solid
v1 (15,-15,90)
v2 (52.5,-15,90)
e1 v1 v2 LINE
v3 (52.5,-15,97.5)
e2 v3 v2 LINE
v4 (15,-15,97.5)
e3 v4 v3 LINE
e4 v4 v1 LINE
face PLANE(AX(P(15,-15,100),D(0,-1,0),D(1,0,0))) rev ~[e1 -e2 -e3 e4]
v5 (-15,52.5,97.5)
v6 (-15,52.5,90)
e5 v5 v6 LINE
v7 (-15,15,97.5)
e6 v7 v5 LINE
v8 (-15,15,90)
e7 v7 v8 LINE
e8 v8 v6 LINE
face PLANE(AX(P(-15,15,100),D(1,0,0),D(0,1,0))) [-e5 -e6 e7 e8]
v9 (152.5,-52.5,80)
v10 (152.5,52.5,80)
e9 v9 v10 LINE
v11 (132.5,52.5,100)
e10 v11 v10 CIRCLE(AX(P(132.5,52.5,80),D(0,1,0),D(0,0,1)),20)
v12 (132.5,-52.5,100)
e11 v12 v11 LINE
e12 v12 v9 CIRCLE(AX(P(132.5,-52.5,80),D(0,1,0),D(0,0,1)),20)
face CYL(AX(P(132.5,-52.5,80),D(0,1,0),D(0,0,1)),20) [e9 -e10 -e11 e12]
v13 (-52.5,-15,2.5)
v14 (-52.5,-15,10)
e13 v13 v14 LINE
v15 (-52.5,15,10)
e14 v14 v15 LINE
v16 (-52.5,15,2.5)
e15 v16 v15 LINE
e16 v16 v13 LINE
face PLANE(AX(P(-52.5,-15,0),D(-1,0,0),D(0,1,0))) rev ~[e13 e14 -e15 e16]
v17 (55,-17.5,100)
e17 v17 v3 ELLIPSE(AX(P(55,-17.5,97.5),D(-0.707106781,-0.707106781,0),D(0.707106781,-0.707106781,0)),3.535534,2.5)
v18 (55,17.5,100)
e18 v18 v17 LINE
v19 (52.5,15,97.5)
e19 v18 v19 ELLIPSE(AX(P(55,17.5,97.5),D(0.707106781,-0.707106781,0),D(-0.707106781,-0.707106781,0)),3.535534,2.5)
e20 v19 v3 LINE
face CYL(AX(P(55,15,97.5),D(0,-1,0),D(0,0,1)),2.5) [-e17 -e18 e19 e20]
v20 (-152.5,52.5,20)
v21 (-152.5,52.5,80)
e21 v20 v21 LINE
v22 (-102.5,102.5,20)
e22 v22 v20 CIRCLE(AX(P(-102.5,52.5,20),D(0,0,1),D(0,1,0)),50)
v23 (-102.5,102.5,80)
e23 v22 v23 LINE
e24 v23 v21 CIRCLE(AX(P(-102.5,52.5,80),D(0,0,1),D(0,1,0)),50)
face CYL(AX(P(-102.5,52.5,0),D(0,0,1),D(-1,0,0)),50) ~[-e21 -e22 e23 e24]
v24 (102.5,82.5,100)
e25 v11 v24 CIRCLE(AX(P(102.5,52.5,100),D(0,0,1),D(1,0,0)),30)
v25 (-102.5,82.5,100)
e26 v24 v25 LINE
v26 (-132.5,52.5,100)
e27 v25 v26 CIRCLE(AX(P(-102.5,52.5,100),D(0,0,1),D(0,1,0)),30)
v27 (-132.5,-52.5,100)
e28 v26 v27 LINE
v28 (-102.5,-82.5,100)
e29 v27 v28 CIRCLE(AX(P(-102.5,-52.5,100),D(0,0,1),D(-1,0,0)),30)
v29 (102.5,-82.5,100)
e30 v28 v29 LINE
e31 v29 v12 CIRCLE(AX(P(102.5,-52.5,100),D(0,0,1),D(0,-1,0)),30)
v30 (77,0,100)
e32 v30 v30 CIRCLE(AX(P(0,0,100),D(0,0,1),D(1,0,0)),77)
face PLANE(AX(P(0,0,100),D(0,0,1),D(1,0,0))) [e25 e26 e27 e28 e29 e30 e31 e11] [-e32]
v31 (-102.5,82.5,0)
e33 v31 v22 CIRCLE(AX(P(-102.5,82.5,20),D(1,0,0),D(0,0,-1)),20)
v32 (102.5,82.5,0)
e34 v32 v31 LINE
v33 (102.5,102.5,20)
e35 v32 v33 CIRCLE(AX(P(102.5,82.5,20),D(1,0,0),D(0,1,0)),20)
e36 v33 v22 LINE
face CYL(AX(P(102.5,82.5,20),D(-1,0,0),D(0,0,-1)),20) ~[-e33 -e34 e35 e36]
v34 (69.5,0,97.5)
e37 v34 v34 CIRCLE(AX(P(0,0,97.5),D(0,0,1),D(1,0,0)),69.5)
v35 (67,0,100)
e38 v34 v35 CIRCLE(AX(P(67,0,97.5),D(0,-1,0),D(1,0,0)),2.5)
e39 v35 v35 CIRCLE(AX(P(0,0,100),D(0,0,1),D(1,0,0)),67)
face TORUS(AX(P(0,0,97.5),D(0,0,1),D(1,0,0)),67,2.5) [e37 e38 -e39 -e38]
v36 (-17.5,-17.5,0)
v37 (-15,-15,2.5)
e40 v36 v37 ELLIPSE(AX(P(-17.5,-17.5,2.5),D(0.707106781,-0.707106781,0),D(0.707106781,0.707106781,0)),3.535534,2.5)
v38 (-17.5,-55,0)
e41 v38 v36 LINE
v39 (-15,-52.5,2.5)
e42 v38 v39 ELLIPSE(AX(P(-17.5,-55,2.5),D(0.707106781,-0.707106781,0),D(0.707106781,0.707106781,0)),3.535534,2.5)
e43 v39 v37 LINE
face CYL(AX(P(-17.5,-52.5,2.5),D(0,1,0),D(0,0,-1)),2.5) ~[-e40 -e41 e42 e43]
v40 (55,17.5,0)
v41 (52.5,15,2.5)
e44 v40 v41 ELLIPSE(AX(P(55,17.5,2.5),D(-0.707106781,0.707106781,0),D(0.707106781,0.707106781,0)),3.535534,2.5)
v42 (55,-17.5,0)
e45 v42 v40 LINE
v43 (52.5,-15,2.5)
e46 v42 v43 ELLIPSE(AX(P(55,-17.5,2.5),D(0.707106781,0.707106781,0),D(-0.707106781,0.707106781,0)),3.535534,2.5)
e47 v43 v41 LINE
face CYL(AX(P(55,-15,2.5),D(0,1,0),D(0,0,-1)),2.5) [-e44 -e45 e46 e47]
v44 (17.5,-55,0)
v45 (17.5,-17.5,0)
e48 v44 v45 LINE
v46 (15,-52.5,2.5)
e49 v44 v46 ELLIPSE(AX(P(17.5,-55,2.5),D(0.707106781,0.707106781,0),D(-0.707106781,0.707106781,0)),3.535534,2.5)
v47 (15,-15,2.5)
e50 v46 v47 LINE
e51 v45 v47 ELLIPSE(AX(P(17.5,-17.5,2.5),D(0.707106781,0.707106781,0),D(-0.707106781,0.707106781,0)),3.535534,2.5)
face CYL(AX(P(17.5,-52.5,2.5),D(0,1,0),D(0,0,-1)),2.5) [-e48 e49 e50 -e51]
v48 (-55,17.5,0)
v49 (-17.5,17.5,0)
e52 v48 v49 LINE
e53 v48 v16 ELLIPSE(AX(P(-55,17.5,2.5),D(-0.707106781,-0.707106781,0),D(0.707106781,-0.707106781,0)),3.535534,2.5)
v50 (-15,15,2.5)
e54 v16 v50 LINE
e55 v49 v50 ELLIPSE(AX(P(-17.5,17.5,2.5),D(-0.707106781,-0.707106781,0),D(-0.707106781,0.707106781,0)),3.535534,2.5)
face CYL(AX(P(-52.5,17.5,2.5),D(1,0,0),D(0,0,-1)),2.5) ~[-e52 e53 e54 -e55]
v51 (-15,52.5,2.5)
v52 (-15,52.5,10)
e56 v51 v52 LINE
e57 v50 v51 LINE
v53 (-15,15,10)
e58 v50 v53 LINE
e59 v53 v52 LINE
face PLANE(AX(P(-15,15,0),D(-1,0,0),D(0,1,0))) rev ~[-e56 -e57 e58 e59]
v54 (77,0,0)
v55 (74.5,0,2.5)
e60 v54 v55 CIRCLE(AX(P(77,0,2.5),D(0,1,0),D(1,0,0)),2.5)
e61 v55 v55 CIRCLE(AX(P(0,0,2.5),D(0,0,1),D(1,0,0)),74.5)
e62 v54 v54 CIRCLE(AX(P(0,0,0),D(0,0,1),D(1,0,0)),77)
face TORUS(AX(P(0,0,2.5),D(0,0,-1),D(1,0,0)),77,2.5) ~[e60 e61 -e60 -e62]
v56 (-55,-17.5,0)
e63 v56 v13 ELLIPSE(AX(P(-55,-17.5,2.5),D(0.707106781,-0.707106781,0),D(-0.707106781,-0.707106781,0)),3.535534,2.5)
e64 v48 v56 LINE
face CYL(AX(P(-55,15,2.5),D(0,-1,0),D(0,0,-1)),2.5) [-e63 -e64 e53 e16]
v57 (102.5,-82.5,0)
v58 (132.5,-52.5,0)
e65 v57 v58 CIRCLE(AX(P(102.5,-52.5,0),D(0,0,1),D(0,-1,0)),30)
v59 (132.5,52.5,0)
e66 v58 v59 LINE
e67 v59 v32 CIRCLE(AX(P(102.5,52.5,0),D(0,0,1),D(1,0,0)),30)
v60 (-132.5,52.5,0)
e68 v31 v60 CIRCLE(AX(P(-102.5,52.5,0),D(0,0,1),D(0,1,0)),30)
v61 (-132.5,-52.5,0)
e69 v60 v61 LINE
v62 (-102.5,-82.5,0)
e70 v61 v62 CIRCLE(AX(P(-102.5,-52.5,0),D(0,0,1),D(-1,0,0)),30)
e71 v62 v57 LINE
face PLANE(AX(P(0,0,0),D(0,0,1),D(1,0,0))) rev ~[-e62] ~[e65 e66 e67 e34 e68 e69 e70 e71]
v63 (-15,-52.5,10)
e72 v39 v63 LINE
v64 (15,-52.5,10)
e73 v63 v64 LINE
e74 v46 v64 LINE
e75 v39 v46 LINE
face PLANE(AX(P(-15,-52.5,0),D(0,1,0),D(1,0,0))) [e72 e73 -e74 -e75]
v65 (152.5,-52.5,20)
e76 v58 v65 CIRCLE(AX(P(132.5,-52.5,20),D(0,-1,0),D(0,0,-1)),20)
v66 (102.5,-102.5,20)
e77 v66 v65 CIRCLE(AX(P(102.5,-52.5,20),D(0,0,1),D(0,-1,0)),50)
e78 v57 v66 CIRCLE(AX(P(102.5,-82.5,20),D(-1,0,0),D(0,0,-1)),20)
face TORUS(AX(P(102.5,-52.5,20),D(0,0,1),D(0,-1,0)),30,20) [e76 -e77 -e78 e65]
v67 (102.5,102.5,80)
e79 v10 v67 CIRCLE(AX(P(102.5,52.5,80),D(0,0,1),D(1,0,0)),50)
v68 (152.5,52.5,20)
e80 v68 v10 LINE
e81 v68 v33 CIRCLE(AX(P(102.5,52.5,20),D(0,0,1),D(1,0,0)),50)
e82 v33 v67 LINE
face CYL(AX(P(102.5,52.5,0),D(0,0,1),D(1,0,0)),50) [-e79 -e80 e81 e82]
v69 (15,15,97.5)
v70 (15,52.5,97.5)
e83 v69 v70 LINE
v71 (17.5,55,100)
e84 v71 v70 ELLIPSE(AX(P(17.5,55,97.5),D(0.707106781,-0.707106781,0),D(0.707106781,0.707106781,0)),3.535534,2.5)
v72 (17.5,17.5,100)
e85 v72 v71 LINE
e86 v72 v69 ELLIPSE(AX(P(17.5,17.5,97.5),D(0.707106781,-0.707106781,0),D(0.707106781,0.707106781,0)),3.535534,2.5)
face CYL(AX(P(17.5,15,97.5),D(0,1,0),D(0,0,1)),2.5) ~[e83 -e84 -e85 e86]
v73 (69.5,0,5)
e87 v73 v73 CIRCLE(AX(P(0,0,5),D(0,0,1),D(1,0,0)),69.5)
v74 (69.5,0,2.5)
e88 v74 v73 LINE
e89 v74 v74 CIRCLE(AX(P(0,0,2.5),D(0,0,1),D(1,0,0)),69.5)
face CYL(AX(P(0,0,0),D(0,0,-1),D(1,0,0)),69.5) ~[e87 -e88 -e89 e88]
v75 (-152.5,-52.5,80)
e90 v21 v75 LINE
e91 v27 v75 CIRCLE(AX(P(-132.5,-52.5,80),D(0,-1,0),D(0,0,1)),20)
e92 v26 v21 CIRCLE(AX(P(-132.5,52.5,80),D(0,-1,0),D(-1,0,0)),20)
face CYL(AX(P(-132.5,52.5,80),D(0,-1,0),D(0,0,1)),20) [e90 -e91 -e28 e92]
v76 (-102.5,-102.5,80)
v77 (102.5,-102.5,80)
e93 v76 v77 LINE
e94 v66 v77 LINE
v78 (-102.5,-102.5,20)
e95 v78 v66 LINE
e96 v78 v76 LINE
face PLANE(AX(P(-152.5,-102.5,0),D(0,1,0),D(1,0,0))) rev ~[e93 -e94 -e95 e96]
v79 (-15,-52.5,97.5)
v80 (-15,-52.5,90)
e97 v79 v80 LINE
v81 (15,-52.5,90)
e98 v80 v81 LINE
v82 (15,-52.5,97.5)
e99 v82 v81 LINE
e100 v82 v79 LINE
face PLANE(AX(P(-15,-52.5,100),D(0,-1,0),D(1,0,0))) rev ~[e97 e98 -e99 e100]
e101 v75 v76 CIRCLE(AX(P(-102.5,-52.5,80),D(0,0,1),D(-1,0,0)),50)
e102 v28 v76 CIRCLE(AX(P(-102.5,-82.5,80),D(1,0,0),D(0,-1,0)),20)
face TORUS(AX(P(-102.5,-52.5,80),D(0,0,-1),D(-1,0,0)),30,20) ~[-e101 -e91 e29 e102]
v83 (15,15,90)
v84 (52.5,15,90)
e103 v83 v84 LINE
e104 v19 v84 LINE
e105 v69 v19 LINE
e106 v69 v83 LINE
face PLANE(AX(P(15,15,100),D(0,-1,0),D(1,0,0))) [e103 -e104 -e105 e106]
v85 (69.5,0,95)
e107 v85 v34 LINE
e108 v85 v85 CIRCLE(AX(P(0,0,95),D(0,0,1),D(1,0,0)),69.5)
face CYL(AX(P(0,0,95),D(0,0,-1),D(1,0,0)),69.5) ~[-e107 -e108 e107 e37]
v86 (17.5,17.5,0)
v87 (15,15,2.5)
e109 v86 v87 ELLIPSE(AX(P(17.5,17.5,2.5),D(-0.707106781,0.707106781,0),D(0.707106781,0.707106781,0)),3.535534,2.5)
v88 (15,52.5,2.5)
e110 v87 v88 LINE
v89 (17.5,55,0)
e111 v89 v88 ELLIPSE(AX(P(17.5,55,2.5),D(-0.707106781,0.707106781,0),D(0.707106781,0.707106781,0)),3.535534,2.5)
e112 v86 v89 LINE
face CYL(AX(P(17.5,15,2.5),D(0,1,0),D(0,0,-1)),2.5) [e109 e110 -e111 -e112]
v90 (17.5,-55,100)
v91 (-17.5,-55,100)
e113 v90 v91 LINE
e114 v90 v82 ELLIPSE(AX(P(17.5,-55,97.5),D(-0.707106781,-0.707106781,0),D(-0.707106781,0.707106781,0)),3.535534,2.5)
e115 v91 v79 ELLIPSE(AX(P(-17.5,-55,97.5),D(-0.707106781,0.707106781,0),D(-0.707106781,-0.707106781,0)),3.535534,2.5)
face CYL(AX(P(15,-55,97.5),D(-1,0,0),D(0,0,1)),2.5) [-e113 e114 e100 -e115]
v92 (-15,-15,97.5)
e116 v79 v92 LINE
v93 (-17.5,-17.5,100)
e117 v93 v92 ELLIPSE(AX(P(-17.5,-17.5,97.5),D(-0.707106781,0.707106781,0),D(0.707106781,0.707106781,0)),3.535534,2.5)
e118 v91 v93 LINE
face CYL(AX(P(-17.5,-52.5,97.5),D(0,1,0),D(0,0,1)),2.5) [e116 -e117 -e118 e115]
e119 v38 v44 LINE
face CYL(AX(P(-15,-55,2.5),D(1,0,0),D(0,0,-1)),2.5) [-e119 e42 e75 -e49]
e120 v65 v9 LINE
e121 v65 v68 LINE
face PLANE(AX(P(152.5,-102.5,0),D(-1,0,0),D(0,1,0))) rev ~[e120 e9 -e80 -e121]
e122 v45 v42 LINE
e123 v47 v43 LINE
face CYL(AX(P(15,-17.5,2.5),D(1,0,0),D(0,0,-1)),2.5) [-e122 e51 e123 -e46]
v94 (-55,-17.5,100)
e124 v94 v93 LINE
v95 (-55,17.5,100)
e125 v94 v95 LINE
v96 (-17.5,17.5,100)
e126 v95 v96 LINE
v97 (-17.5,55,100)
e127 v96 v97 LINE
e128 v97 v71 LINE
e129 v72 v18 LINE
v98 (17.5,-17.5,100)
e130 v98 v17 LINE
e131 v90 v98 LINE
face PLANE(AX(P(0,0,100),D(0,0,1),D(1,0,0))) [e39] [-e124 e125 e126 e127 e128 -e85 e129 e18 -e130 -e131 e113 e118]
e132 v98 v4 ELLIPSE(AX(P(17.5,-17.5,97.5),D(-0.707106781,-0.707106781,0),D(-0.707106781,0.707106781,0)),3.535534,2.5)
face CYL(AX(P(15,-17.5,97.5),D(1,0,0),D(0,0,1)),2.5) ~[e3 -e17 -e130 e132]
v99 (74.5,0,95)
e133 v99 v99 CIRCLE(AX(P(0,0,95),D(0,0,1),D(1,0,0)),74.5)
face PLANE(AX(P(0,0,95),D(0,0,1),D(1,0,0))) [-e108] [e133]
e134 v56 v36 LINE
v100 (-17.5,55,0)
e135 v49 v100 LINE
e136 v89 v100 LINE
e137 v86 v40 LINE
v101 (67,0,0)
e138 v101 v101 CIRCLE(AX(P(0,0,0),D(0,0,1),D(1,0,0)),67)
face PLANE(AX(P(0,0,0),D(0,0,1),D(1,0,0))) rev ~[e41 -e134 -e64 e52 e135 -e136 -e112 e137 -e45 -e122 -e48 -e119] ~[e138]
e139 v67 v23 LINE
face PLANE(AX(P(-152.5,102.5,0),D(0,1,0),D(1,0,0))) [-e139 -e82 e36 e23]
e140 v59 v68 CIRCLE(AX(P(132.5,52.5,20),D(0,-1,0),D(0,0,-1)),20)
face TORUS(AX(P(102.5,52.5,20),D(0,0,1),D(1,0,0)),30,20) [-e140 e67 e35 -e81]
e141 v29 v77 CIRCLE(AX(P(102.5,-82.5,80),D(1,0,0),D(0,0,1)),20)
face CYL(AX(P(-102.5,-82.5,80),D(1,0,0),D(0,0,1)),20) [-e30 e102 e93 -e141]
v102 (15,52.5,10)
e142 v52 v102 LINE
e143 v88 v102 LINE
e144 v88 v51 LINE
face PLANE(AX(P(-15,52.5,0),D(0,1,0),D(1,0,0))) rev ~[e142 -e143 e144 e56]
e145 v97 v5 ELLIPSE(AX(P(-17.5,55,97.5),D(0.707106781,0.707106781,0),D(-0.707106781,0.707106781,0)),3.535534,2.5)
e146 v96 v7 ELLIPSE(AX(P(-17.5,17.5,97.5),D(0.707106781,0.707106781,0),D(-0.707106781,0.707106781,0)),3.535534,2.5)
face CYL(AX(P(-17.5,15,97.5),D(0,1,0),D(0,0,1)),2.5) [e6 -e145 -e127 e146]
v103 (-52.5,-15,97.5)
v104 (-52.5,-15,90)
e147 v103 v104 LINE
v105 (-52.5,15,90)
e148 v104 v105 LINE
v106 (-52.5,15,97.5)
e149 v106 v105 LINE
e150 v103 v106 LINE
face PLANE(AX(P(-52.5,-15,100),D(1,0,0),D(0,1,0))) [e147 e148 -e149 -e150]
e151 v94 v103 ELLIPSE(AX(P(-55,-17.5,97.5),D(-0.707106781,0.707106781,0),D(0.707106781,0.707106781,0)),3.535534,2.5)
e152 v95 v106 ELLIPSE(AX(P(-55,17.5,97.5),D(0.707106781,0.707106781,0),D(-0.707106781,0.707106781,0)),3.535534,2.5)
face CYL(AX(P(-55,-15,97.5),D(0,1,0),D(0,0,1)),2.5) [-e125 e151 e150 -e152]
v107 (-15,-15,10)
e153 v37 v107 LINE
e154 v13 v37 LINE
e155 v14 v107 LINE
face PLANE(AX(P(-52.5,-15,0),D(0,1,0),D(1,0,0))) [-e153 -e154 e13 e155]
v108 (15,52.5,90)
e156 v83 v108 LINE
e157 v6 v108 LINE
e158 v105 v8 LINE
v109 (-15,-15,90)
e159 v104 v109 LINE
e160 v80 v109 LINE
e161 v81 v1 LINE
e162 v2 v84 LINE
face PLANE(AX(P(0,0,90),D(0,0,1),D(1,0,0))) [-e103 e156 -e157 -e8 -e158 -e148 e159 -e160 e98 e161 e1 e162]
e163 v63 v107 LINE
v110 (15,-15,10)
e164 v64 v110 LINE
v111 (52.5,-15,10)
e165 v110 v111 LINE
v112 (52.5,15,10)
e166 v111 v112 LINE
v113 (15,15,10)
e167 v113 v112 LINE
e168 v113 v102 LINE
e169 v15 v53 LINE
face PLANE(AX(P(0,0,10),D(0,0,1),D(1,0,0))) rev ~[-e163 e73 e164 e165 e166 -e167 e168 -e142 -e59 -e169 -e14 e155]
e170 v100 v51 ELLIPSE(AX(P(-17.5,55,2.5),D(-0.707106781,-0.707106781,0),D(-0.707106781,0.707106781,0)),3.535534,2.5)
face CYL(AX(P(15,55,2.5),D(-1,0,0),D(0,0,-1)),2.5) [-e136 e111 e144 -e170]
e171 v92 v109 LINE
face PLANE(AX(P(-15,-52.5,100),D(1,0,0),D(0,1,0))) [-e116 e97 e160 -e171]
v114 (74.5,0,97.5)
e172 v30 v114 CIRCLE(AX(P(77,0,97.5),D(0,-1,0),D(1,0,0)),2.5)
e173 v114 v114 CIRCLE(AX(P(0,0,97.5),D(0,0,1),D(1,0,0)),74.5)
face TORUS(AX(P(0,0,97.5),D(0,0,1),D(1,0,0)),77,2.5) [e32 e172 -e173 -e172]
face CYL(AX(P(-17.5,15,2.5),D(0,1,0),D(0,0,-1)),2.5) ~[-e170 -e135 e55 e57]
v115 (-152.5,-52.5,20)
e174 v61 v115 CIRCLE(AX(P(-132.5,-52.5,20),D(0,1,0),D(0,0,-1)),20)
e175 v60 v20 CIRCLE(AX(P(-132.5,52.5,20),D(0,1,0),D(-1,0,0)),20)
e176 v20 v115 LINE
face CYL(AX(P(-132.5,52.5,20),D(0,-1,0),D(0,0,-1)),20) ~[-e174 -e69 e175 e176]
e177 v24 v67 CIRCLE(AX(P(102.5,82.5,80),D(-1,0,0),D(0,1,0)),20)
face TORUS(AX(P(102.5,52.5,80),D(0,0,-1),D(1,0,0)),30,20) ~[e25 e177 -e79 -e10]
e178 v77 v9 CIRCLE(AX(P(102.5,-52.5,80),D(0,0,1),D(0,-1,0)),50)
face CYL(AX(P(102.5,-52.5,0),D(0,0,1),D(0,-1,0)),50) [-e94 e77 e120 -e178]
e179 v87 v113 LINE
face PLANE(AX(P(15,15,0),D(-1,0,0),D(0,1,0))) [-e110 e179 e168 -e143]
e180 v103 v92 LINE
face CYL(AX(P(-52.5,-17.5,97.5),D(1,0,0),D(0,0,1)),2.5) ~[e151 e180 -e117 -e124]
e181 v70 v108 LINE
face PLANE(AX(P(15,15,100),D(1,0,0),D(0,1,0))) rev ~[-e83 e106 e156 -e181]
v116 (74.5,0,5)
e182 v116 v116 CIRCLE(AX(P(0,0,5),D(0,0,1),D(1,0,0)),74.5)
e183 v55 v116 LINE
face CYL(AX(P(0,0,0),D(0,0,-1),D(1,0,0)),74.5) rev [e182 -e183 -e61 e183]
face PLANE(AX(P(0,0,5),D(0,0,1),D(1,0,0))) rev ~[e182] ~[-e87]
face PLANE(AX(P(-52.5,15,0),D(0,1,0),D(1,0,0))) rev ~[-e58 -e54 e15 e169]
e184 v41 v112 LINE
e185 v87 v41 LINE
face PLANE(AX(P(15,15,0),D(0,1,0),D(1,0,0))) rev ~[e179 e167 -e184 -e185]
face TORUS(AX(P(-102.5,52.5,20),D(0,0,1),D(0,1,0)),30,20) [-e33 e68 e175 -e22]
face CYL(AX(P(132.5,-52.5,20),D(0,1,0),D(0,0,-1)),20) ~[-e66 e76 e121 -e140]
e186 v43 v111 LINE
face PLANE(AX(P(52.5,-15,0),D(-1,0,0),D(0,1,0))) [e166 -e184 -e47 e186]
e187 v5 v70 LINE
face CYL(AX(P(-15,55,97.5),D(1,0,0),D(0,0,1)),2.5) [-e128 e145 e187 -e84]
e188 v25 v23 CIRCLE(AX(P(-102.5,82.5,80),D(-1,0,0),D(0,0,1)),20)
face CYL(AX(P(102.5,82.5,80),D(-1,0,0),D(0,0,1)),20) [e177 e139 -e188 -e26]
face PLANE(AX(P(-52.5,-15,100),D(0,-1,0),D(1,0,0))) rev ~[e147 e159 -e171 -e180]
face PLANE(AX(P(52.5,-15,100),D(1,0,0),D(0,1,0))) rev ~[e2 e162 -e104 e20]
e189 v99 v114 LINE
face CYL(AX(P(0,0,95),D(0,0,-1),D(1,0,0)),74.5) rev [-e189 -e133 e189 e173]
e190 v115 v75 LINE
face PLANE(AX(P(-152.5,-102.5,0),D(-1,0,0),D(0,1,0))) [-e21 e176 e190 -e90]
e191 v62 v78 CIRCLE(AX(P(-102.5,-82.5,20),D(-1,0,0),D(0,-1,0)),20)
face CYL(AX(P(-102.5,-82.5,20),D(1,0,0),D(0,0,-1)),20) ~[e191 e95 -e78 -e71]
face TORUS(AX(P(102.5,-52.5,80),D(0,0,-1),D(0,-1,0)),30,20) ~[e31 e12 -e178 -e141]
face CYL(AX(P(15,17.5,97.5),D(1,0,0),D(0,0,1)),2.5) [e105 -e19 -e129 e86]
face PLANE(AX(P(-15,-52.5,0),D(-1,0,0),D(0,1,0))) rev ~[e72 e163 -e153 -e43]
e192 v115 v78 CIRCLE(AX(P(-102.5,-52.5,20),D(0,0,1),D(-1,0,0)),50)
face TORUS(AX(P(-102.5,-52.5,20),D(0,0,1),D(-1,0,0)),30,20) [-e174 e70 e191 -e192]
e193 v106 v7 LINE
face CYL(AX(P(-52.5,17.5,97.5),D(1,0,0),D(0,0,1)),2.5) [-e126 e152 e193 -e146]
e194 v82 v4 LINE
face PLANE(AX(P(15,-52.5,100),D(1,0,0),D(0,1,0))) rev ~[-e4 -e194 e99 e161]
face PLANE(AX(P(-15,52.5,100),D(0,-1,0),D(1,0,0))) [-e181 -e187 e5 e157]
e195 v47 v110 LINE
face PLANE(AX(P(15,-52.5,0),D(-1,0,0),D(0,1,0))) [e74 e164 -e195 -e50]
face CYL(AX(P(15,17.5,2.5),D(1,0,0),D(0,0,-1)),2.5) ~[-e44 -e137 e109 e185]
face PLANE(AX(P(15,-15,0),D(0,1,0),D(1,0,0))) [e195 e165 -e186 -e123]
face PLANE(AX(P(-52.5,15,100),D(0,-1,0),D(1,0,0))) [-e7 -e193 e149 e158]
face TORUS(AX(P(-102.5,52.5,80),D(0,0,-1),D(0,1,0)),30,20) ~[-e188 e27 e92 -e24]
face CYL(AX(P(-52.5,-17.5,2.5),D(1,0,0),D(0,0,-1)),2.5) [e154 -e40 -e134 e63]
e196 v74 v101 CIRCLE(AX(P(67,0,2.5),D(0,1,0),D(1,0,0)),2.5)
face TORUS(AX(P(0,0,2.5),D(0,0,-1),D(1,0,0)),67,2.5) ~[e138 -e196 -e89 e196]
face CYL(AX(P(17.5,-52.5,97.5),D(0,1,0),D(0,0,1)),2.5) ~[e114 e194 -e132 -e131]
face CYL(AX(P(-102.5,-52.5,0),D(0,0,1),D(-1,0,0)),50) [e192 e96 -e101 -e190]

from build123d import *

# Parameters (mm, degrees)
SKETCH1_W               = 305
SKETCH1_H               = 205
BOSS_EXTRUDE1_DEPTH     = 100
FILLET1_R               = 50
FILLET2_R               = 20
SKETCH2_W               = 30
SKETCH2_H               = 105
SKETCH2_W_2             = 105
SKETCH2_H_2             = 30
CUT_EXTRUDE_THIN1_DEPTH = 10
CUT_EXTRUDE_THIN2_START = 100
SKETCH2_3_W             = 30
SKETCH2_3_H             = 105
SKETCH2_3_W_2           = 105
SKETCH2_3_H_2           = 30
CUT_EXTRUDE_THIN2_DEPTH = 10
SKETCH2_4_R             = 74.5
SKETCH2_4_R_2           = 69.5
SKETCH2_4_W             = 5
SKETCH2_4_H             = 105
SKETCH2_4_W_2           = 105
SKETCH2_4_H_2           = 5
CUT_EXTRUDE_THIN3_DEPTH = 5
CUT_EXTRUDE_THIN4_START = 95
SKETCH2_5_R             = 74.5
SKETCH2_5_R_2           = 69.5
SKETCH2_5_W             = 5
SKETCH2_5_H             = 105
SKETCH2_5_W_2           = 105
SKETCH2_5_H_2           = 5
CUT_EXTRUDE_THIN4_DEPTH = 5
FILLET3_R               = 2.5


with BuildPart() as part:
    # Sketch1 → Boss-Extrude1 (new body)
    with BuildSketch(Plane.XY):
        Rectangle(SKETCH1_W, SKETCH1_H)
    extrude(amount=BOSS_EXTRUDE1_DEPTH)

    # Fillet1
    fillet1_edges = [part.edges().sort_by_distance(p)[0] for p in [
        (-152.5, 102.5, 50),
        (152.5, 102.5, 50),
        (152.5, -102.5, 50),
        (-152.5, -102.5, 50),
    ]]
    fillet(fillet1_edges, radius=FILLET1_R)

    # Fillet2
    fillet2_edges = [part.edges().sort_by_distance(p)[0] for p in [
        (152.5, 0, 0),
        (152.5, 0, 100),
        (-152.5, 0, 0),
        (0, 102.5, 0),
        (0, -102.5, 0),
        (137.855339059, 87.855339059, 0),
        (-137.855339059, 87.855339059, 0),
        (-137.855339059, -87.855339059, 0),
        (137.855339059, -87.855339059, 0),
        (0, -102.5, 100),
        (-152.5, 0, 100),
        (0, 102.5, 100),
        (137.855339059, 87.855339059, 100),
        (-137.855339059, 87.855339059, 100),
        (-137.855339059, -87.855339059, 100),
        (137.855339059, -87.855339059, 100),
    ]]
    fillet(fillet2_edges, radius=FILLET2_R)

    # Sketch2 → Cut-Extrude-Thin1 (cut)
    with BuildSketch(Plane.XY):
        Rectangle(SKETCH2_W, SKETCH2_H)
        Rectangle(SKETCH2_W_2, SKETCH2_H_2)
    extrude(amount=CUT_EXTRUDE_THIN1_DEPTH, mode=Mode.SUBTRACT)

    # Sketch2<3> → Cut-Extrude-Thin2 (cut)
    with BuildSketch(Plane.XY.offset(CUT_EXTRUDE_THIN2_START)):
        Rectangle(SKETCH2_3_W, SKETCH2_3_H)
        Rectangle(SKETCH2_3_W_2, SKETCH2_3_H_2)
    extrude(amount=-CUT_EXTRUDE_THIN2_DEPTH, mode=Mode.SUBTRACT)

    # Sketch2<4> → Cut-Extrude-Thin3 (cut)
    # profile 1 of 3: a face of its own
    with BuildSketch(Plane.XY):
        Circle(SKETCH2_4_R)
        Circle(SKETCH2_4_R_2, mode=Mode.SUBTRACT)
    # profile 2 of 3: a face of its own
    with BuildSketch(Plane.XY):
        Rectangle(SKETCH2_4_W, SKETCH2_4_H)
    # profile 3 of 3: a face of its own
    with BuildSketch(Plane.XY):
        Rectangle(SKETCH2_4_W_2, SKETCH2_4_H_2)
    extrude(amount=CUT_EXTRUDE_THIN3_DEPTH, mode=Mode.SUBTRACT)

    # Sketch2<5> → Cut-Extrude-Thin4 (cut)
    # profile 1 of 3: a face of its own
    with BuildSketch(Plane.XY.offset(CUT_EXTRUDE_THIN4_START)):
        Circle(SKETCH2_5_R)
        Circle(SKETCH2_5_R_2, mode=Mode.SUBTRACT)
    # profile 2 of 3: a face of its own
    with BuildSketch(Plane.XY.offset(CUT_EXTRUDE_THIN4_START)):
        Rectangle(SKETCH2_5_W, SKETCH2_5_H)
    # profile 3 of 3: a face of its own
    with BuildSketch(Plane.XY.offset(CUT_EXTRUDE_THIN4_START)):
        Rectangle(SKETCH2_5_W_2, SKETCH2_5_H_2)
    extrude(amount=CUT_EXTRUDE_THIN4_DEPTH, mode=Mode.SUBTRACT)

    # Fillet3
    fillet3_edges = [part.edges().sort_by_distance(p)[0] for p in [
        (-15, 33.75, 0),
        (15, 33.75, 0),
        (33.75, 15, 0),
        (52.5, 0, 0),
        (15, -33.75, 0),
        (0, -52.5, 0),
        (-52.5, 0, 0),
        (-33.75, 15, 0),
        (0, 52.5, 0),
        (-15, -33.75, 0),
        (33.75, -15, 0),
        (-33.75, -15, 0),
        (0, -52.5, 100),
        (15, -33.75, 100),
        (33.75, -15, 100),
        (-15, 33.75, 100),
        (-33.75, -15, 100),
        (-15, -33.75, 100),
        (0, 52.5, 100),
        (15, 33.75, 100),
        (-52.5, 0, 100),
        (-33.75, 15, 100),
        (52.5, 0, 100),
        (33.75, 15, 100),
        (-69.5, 0, 0),
        (-74.5, 0, 0),
        (-69.5, 0, 100),
        (-74.5, 0, 100),
    ]]
    fillet(fillet3_edges, radius=FILLET3_R)


solid = part.part
